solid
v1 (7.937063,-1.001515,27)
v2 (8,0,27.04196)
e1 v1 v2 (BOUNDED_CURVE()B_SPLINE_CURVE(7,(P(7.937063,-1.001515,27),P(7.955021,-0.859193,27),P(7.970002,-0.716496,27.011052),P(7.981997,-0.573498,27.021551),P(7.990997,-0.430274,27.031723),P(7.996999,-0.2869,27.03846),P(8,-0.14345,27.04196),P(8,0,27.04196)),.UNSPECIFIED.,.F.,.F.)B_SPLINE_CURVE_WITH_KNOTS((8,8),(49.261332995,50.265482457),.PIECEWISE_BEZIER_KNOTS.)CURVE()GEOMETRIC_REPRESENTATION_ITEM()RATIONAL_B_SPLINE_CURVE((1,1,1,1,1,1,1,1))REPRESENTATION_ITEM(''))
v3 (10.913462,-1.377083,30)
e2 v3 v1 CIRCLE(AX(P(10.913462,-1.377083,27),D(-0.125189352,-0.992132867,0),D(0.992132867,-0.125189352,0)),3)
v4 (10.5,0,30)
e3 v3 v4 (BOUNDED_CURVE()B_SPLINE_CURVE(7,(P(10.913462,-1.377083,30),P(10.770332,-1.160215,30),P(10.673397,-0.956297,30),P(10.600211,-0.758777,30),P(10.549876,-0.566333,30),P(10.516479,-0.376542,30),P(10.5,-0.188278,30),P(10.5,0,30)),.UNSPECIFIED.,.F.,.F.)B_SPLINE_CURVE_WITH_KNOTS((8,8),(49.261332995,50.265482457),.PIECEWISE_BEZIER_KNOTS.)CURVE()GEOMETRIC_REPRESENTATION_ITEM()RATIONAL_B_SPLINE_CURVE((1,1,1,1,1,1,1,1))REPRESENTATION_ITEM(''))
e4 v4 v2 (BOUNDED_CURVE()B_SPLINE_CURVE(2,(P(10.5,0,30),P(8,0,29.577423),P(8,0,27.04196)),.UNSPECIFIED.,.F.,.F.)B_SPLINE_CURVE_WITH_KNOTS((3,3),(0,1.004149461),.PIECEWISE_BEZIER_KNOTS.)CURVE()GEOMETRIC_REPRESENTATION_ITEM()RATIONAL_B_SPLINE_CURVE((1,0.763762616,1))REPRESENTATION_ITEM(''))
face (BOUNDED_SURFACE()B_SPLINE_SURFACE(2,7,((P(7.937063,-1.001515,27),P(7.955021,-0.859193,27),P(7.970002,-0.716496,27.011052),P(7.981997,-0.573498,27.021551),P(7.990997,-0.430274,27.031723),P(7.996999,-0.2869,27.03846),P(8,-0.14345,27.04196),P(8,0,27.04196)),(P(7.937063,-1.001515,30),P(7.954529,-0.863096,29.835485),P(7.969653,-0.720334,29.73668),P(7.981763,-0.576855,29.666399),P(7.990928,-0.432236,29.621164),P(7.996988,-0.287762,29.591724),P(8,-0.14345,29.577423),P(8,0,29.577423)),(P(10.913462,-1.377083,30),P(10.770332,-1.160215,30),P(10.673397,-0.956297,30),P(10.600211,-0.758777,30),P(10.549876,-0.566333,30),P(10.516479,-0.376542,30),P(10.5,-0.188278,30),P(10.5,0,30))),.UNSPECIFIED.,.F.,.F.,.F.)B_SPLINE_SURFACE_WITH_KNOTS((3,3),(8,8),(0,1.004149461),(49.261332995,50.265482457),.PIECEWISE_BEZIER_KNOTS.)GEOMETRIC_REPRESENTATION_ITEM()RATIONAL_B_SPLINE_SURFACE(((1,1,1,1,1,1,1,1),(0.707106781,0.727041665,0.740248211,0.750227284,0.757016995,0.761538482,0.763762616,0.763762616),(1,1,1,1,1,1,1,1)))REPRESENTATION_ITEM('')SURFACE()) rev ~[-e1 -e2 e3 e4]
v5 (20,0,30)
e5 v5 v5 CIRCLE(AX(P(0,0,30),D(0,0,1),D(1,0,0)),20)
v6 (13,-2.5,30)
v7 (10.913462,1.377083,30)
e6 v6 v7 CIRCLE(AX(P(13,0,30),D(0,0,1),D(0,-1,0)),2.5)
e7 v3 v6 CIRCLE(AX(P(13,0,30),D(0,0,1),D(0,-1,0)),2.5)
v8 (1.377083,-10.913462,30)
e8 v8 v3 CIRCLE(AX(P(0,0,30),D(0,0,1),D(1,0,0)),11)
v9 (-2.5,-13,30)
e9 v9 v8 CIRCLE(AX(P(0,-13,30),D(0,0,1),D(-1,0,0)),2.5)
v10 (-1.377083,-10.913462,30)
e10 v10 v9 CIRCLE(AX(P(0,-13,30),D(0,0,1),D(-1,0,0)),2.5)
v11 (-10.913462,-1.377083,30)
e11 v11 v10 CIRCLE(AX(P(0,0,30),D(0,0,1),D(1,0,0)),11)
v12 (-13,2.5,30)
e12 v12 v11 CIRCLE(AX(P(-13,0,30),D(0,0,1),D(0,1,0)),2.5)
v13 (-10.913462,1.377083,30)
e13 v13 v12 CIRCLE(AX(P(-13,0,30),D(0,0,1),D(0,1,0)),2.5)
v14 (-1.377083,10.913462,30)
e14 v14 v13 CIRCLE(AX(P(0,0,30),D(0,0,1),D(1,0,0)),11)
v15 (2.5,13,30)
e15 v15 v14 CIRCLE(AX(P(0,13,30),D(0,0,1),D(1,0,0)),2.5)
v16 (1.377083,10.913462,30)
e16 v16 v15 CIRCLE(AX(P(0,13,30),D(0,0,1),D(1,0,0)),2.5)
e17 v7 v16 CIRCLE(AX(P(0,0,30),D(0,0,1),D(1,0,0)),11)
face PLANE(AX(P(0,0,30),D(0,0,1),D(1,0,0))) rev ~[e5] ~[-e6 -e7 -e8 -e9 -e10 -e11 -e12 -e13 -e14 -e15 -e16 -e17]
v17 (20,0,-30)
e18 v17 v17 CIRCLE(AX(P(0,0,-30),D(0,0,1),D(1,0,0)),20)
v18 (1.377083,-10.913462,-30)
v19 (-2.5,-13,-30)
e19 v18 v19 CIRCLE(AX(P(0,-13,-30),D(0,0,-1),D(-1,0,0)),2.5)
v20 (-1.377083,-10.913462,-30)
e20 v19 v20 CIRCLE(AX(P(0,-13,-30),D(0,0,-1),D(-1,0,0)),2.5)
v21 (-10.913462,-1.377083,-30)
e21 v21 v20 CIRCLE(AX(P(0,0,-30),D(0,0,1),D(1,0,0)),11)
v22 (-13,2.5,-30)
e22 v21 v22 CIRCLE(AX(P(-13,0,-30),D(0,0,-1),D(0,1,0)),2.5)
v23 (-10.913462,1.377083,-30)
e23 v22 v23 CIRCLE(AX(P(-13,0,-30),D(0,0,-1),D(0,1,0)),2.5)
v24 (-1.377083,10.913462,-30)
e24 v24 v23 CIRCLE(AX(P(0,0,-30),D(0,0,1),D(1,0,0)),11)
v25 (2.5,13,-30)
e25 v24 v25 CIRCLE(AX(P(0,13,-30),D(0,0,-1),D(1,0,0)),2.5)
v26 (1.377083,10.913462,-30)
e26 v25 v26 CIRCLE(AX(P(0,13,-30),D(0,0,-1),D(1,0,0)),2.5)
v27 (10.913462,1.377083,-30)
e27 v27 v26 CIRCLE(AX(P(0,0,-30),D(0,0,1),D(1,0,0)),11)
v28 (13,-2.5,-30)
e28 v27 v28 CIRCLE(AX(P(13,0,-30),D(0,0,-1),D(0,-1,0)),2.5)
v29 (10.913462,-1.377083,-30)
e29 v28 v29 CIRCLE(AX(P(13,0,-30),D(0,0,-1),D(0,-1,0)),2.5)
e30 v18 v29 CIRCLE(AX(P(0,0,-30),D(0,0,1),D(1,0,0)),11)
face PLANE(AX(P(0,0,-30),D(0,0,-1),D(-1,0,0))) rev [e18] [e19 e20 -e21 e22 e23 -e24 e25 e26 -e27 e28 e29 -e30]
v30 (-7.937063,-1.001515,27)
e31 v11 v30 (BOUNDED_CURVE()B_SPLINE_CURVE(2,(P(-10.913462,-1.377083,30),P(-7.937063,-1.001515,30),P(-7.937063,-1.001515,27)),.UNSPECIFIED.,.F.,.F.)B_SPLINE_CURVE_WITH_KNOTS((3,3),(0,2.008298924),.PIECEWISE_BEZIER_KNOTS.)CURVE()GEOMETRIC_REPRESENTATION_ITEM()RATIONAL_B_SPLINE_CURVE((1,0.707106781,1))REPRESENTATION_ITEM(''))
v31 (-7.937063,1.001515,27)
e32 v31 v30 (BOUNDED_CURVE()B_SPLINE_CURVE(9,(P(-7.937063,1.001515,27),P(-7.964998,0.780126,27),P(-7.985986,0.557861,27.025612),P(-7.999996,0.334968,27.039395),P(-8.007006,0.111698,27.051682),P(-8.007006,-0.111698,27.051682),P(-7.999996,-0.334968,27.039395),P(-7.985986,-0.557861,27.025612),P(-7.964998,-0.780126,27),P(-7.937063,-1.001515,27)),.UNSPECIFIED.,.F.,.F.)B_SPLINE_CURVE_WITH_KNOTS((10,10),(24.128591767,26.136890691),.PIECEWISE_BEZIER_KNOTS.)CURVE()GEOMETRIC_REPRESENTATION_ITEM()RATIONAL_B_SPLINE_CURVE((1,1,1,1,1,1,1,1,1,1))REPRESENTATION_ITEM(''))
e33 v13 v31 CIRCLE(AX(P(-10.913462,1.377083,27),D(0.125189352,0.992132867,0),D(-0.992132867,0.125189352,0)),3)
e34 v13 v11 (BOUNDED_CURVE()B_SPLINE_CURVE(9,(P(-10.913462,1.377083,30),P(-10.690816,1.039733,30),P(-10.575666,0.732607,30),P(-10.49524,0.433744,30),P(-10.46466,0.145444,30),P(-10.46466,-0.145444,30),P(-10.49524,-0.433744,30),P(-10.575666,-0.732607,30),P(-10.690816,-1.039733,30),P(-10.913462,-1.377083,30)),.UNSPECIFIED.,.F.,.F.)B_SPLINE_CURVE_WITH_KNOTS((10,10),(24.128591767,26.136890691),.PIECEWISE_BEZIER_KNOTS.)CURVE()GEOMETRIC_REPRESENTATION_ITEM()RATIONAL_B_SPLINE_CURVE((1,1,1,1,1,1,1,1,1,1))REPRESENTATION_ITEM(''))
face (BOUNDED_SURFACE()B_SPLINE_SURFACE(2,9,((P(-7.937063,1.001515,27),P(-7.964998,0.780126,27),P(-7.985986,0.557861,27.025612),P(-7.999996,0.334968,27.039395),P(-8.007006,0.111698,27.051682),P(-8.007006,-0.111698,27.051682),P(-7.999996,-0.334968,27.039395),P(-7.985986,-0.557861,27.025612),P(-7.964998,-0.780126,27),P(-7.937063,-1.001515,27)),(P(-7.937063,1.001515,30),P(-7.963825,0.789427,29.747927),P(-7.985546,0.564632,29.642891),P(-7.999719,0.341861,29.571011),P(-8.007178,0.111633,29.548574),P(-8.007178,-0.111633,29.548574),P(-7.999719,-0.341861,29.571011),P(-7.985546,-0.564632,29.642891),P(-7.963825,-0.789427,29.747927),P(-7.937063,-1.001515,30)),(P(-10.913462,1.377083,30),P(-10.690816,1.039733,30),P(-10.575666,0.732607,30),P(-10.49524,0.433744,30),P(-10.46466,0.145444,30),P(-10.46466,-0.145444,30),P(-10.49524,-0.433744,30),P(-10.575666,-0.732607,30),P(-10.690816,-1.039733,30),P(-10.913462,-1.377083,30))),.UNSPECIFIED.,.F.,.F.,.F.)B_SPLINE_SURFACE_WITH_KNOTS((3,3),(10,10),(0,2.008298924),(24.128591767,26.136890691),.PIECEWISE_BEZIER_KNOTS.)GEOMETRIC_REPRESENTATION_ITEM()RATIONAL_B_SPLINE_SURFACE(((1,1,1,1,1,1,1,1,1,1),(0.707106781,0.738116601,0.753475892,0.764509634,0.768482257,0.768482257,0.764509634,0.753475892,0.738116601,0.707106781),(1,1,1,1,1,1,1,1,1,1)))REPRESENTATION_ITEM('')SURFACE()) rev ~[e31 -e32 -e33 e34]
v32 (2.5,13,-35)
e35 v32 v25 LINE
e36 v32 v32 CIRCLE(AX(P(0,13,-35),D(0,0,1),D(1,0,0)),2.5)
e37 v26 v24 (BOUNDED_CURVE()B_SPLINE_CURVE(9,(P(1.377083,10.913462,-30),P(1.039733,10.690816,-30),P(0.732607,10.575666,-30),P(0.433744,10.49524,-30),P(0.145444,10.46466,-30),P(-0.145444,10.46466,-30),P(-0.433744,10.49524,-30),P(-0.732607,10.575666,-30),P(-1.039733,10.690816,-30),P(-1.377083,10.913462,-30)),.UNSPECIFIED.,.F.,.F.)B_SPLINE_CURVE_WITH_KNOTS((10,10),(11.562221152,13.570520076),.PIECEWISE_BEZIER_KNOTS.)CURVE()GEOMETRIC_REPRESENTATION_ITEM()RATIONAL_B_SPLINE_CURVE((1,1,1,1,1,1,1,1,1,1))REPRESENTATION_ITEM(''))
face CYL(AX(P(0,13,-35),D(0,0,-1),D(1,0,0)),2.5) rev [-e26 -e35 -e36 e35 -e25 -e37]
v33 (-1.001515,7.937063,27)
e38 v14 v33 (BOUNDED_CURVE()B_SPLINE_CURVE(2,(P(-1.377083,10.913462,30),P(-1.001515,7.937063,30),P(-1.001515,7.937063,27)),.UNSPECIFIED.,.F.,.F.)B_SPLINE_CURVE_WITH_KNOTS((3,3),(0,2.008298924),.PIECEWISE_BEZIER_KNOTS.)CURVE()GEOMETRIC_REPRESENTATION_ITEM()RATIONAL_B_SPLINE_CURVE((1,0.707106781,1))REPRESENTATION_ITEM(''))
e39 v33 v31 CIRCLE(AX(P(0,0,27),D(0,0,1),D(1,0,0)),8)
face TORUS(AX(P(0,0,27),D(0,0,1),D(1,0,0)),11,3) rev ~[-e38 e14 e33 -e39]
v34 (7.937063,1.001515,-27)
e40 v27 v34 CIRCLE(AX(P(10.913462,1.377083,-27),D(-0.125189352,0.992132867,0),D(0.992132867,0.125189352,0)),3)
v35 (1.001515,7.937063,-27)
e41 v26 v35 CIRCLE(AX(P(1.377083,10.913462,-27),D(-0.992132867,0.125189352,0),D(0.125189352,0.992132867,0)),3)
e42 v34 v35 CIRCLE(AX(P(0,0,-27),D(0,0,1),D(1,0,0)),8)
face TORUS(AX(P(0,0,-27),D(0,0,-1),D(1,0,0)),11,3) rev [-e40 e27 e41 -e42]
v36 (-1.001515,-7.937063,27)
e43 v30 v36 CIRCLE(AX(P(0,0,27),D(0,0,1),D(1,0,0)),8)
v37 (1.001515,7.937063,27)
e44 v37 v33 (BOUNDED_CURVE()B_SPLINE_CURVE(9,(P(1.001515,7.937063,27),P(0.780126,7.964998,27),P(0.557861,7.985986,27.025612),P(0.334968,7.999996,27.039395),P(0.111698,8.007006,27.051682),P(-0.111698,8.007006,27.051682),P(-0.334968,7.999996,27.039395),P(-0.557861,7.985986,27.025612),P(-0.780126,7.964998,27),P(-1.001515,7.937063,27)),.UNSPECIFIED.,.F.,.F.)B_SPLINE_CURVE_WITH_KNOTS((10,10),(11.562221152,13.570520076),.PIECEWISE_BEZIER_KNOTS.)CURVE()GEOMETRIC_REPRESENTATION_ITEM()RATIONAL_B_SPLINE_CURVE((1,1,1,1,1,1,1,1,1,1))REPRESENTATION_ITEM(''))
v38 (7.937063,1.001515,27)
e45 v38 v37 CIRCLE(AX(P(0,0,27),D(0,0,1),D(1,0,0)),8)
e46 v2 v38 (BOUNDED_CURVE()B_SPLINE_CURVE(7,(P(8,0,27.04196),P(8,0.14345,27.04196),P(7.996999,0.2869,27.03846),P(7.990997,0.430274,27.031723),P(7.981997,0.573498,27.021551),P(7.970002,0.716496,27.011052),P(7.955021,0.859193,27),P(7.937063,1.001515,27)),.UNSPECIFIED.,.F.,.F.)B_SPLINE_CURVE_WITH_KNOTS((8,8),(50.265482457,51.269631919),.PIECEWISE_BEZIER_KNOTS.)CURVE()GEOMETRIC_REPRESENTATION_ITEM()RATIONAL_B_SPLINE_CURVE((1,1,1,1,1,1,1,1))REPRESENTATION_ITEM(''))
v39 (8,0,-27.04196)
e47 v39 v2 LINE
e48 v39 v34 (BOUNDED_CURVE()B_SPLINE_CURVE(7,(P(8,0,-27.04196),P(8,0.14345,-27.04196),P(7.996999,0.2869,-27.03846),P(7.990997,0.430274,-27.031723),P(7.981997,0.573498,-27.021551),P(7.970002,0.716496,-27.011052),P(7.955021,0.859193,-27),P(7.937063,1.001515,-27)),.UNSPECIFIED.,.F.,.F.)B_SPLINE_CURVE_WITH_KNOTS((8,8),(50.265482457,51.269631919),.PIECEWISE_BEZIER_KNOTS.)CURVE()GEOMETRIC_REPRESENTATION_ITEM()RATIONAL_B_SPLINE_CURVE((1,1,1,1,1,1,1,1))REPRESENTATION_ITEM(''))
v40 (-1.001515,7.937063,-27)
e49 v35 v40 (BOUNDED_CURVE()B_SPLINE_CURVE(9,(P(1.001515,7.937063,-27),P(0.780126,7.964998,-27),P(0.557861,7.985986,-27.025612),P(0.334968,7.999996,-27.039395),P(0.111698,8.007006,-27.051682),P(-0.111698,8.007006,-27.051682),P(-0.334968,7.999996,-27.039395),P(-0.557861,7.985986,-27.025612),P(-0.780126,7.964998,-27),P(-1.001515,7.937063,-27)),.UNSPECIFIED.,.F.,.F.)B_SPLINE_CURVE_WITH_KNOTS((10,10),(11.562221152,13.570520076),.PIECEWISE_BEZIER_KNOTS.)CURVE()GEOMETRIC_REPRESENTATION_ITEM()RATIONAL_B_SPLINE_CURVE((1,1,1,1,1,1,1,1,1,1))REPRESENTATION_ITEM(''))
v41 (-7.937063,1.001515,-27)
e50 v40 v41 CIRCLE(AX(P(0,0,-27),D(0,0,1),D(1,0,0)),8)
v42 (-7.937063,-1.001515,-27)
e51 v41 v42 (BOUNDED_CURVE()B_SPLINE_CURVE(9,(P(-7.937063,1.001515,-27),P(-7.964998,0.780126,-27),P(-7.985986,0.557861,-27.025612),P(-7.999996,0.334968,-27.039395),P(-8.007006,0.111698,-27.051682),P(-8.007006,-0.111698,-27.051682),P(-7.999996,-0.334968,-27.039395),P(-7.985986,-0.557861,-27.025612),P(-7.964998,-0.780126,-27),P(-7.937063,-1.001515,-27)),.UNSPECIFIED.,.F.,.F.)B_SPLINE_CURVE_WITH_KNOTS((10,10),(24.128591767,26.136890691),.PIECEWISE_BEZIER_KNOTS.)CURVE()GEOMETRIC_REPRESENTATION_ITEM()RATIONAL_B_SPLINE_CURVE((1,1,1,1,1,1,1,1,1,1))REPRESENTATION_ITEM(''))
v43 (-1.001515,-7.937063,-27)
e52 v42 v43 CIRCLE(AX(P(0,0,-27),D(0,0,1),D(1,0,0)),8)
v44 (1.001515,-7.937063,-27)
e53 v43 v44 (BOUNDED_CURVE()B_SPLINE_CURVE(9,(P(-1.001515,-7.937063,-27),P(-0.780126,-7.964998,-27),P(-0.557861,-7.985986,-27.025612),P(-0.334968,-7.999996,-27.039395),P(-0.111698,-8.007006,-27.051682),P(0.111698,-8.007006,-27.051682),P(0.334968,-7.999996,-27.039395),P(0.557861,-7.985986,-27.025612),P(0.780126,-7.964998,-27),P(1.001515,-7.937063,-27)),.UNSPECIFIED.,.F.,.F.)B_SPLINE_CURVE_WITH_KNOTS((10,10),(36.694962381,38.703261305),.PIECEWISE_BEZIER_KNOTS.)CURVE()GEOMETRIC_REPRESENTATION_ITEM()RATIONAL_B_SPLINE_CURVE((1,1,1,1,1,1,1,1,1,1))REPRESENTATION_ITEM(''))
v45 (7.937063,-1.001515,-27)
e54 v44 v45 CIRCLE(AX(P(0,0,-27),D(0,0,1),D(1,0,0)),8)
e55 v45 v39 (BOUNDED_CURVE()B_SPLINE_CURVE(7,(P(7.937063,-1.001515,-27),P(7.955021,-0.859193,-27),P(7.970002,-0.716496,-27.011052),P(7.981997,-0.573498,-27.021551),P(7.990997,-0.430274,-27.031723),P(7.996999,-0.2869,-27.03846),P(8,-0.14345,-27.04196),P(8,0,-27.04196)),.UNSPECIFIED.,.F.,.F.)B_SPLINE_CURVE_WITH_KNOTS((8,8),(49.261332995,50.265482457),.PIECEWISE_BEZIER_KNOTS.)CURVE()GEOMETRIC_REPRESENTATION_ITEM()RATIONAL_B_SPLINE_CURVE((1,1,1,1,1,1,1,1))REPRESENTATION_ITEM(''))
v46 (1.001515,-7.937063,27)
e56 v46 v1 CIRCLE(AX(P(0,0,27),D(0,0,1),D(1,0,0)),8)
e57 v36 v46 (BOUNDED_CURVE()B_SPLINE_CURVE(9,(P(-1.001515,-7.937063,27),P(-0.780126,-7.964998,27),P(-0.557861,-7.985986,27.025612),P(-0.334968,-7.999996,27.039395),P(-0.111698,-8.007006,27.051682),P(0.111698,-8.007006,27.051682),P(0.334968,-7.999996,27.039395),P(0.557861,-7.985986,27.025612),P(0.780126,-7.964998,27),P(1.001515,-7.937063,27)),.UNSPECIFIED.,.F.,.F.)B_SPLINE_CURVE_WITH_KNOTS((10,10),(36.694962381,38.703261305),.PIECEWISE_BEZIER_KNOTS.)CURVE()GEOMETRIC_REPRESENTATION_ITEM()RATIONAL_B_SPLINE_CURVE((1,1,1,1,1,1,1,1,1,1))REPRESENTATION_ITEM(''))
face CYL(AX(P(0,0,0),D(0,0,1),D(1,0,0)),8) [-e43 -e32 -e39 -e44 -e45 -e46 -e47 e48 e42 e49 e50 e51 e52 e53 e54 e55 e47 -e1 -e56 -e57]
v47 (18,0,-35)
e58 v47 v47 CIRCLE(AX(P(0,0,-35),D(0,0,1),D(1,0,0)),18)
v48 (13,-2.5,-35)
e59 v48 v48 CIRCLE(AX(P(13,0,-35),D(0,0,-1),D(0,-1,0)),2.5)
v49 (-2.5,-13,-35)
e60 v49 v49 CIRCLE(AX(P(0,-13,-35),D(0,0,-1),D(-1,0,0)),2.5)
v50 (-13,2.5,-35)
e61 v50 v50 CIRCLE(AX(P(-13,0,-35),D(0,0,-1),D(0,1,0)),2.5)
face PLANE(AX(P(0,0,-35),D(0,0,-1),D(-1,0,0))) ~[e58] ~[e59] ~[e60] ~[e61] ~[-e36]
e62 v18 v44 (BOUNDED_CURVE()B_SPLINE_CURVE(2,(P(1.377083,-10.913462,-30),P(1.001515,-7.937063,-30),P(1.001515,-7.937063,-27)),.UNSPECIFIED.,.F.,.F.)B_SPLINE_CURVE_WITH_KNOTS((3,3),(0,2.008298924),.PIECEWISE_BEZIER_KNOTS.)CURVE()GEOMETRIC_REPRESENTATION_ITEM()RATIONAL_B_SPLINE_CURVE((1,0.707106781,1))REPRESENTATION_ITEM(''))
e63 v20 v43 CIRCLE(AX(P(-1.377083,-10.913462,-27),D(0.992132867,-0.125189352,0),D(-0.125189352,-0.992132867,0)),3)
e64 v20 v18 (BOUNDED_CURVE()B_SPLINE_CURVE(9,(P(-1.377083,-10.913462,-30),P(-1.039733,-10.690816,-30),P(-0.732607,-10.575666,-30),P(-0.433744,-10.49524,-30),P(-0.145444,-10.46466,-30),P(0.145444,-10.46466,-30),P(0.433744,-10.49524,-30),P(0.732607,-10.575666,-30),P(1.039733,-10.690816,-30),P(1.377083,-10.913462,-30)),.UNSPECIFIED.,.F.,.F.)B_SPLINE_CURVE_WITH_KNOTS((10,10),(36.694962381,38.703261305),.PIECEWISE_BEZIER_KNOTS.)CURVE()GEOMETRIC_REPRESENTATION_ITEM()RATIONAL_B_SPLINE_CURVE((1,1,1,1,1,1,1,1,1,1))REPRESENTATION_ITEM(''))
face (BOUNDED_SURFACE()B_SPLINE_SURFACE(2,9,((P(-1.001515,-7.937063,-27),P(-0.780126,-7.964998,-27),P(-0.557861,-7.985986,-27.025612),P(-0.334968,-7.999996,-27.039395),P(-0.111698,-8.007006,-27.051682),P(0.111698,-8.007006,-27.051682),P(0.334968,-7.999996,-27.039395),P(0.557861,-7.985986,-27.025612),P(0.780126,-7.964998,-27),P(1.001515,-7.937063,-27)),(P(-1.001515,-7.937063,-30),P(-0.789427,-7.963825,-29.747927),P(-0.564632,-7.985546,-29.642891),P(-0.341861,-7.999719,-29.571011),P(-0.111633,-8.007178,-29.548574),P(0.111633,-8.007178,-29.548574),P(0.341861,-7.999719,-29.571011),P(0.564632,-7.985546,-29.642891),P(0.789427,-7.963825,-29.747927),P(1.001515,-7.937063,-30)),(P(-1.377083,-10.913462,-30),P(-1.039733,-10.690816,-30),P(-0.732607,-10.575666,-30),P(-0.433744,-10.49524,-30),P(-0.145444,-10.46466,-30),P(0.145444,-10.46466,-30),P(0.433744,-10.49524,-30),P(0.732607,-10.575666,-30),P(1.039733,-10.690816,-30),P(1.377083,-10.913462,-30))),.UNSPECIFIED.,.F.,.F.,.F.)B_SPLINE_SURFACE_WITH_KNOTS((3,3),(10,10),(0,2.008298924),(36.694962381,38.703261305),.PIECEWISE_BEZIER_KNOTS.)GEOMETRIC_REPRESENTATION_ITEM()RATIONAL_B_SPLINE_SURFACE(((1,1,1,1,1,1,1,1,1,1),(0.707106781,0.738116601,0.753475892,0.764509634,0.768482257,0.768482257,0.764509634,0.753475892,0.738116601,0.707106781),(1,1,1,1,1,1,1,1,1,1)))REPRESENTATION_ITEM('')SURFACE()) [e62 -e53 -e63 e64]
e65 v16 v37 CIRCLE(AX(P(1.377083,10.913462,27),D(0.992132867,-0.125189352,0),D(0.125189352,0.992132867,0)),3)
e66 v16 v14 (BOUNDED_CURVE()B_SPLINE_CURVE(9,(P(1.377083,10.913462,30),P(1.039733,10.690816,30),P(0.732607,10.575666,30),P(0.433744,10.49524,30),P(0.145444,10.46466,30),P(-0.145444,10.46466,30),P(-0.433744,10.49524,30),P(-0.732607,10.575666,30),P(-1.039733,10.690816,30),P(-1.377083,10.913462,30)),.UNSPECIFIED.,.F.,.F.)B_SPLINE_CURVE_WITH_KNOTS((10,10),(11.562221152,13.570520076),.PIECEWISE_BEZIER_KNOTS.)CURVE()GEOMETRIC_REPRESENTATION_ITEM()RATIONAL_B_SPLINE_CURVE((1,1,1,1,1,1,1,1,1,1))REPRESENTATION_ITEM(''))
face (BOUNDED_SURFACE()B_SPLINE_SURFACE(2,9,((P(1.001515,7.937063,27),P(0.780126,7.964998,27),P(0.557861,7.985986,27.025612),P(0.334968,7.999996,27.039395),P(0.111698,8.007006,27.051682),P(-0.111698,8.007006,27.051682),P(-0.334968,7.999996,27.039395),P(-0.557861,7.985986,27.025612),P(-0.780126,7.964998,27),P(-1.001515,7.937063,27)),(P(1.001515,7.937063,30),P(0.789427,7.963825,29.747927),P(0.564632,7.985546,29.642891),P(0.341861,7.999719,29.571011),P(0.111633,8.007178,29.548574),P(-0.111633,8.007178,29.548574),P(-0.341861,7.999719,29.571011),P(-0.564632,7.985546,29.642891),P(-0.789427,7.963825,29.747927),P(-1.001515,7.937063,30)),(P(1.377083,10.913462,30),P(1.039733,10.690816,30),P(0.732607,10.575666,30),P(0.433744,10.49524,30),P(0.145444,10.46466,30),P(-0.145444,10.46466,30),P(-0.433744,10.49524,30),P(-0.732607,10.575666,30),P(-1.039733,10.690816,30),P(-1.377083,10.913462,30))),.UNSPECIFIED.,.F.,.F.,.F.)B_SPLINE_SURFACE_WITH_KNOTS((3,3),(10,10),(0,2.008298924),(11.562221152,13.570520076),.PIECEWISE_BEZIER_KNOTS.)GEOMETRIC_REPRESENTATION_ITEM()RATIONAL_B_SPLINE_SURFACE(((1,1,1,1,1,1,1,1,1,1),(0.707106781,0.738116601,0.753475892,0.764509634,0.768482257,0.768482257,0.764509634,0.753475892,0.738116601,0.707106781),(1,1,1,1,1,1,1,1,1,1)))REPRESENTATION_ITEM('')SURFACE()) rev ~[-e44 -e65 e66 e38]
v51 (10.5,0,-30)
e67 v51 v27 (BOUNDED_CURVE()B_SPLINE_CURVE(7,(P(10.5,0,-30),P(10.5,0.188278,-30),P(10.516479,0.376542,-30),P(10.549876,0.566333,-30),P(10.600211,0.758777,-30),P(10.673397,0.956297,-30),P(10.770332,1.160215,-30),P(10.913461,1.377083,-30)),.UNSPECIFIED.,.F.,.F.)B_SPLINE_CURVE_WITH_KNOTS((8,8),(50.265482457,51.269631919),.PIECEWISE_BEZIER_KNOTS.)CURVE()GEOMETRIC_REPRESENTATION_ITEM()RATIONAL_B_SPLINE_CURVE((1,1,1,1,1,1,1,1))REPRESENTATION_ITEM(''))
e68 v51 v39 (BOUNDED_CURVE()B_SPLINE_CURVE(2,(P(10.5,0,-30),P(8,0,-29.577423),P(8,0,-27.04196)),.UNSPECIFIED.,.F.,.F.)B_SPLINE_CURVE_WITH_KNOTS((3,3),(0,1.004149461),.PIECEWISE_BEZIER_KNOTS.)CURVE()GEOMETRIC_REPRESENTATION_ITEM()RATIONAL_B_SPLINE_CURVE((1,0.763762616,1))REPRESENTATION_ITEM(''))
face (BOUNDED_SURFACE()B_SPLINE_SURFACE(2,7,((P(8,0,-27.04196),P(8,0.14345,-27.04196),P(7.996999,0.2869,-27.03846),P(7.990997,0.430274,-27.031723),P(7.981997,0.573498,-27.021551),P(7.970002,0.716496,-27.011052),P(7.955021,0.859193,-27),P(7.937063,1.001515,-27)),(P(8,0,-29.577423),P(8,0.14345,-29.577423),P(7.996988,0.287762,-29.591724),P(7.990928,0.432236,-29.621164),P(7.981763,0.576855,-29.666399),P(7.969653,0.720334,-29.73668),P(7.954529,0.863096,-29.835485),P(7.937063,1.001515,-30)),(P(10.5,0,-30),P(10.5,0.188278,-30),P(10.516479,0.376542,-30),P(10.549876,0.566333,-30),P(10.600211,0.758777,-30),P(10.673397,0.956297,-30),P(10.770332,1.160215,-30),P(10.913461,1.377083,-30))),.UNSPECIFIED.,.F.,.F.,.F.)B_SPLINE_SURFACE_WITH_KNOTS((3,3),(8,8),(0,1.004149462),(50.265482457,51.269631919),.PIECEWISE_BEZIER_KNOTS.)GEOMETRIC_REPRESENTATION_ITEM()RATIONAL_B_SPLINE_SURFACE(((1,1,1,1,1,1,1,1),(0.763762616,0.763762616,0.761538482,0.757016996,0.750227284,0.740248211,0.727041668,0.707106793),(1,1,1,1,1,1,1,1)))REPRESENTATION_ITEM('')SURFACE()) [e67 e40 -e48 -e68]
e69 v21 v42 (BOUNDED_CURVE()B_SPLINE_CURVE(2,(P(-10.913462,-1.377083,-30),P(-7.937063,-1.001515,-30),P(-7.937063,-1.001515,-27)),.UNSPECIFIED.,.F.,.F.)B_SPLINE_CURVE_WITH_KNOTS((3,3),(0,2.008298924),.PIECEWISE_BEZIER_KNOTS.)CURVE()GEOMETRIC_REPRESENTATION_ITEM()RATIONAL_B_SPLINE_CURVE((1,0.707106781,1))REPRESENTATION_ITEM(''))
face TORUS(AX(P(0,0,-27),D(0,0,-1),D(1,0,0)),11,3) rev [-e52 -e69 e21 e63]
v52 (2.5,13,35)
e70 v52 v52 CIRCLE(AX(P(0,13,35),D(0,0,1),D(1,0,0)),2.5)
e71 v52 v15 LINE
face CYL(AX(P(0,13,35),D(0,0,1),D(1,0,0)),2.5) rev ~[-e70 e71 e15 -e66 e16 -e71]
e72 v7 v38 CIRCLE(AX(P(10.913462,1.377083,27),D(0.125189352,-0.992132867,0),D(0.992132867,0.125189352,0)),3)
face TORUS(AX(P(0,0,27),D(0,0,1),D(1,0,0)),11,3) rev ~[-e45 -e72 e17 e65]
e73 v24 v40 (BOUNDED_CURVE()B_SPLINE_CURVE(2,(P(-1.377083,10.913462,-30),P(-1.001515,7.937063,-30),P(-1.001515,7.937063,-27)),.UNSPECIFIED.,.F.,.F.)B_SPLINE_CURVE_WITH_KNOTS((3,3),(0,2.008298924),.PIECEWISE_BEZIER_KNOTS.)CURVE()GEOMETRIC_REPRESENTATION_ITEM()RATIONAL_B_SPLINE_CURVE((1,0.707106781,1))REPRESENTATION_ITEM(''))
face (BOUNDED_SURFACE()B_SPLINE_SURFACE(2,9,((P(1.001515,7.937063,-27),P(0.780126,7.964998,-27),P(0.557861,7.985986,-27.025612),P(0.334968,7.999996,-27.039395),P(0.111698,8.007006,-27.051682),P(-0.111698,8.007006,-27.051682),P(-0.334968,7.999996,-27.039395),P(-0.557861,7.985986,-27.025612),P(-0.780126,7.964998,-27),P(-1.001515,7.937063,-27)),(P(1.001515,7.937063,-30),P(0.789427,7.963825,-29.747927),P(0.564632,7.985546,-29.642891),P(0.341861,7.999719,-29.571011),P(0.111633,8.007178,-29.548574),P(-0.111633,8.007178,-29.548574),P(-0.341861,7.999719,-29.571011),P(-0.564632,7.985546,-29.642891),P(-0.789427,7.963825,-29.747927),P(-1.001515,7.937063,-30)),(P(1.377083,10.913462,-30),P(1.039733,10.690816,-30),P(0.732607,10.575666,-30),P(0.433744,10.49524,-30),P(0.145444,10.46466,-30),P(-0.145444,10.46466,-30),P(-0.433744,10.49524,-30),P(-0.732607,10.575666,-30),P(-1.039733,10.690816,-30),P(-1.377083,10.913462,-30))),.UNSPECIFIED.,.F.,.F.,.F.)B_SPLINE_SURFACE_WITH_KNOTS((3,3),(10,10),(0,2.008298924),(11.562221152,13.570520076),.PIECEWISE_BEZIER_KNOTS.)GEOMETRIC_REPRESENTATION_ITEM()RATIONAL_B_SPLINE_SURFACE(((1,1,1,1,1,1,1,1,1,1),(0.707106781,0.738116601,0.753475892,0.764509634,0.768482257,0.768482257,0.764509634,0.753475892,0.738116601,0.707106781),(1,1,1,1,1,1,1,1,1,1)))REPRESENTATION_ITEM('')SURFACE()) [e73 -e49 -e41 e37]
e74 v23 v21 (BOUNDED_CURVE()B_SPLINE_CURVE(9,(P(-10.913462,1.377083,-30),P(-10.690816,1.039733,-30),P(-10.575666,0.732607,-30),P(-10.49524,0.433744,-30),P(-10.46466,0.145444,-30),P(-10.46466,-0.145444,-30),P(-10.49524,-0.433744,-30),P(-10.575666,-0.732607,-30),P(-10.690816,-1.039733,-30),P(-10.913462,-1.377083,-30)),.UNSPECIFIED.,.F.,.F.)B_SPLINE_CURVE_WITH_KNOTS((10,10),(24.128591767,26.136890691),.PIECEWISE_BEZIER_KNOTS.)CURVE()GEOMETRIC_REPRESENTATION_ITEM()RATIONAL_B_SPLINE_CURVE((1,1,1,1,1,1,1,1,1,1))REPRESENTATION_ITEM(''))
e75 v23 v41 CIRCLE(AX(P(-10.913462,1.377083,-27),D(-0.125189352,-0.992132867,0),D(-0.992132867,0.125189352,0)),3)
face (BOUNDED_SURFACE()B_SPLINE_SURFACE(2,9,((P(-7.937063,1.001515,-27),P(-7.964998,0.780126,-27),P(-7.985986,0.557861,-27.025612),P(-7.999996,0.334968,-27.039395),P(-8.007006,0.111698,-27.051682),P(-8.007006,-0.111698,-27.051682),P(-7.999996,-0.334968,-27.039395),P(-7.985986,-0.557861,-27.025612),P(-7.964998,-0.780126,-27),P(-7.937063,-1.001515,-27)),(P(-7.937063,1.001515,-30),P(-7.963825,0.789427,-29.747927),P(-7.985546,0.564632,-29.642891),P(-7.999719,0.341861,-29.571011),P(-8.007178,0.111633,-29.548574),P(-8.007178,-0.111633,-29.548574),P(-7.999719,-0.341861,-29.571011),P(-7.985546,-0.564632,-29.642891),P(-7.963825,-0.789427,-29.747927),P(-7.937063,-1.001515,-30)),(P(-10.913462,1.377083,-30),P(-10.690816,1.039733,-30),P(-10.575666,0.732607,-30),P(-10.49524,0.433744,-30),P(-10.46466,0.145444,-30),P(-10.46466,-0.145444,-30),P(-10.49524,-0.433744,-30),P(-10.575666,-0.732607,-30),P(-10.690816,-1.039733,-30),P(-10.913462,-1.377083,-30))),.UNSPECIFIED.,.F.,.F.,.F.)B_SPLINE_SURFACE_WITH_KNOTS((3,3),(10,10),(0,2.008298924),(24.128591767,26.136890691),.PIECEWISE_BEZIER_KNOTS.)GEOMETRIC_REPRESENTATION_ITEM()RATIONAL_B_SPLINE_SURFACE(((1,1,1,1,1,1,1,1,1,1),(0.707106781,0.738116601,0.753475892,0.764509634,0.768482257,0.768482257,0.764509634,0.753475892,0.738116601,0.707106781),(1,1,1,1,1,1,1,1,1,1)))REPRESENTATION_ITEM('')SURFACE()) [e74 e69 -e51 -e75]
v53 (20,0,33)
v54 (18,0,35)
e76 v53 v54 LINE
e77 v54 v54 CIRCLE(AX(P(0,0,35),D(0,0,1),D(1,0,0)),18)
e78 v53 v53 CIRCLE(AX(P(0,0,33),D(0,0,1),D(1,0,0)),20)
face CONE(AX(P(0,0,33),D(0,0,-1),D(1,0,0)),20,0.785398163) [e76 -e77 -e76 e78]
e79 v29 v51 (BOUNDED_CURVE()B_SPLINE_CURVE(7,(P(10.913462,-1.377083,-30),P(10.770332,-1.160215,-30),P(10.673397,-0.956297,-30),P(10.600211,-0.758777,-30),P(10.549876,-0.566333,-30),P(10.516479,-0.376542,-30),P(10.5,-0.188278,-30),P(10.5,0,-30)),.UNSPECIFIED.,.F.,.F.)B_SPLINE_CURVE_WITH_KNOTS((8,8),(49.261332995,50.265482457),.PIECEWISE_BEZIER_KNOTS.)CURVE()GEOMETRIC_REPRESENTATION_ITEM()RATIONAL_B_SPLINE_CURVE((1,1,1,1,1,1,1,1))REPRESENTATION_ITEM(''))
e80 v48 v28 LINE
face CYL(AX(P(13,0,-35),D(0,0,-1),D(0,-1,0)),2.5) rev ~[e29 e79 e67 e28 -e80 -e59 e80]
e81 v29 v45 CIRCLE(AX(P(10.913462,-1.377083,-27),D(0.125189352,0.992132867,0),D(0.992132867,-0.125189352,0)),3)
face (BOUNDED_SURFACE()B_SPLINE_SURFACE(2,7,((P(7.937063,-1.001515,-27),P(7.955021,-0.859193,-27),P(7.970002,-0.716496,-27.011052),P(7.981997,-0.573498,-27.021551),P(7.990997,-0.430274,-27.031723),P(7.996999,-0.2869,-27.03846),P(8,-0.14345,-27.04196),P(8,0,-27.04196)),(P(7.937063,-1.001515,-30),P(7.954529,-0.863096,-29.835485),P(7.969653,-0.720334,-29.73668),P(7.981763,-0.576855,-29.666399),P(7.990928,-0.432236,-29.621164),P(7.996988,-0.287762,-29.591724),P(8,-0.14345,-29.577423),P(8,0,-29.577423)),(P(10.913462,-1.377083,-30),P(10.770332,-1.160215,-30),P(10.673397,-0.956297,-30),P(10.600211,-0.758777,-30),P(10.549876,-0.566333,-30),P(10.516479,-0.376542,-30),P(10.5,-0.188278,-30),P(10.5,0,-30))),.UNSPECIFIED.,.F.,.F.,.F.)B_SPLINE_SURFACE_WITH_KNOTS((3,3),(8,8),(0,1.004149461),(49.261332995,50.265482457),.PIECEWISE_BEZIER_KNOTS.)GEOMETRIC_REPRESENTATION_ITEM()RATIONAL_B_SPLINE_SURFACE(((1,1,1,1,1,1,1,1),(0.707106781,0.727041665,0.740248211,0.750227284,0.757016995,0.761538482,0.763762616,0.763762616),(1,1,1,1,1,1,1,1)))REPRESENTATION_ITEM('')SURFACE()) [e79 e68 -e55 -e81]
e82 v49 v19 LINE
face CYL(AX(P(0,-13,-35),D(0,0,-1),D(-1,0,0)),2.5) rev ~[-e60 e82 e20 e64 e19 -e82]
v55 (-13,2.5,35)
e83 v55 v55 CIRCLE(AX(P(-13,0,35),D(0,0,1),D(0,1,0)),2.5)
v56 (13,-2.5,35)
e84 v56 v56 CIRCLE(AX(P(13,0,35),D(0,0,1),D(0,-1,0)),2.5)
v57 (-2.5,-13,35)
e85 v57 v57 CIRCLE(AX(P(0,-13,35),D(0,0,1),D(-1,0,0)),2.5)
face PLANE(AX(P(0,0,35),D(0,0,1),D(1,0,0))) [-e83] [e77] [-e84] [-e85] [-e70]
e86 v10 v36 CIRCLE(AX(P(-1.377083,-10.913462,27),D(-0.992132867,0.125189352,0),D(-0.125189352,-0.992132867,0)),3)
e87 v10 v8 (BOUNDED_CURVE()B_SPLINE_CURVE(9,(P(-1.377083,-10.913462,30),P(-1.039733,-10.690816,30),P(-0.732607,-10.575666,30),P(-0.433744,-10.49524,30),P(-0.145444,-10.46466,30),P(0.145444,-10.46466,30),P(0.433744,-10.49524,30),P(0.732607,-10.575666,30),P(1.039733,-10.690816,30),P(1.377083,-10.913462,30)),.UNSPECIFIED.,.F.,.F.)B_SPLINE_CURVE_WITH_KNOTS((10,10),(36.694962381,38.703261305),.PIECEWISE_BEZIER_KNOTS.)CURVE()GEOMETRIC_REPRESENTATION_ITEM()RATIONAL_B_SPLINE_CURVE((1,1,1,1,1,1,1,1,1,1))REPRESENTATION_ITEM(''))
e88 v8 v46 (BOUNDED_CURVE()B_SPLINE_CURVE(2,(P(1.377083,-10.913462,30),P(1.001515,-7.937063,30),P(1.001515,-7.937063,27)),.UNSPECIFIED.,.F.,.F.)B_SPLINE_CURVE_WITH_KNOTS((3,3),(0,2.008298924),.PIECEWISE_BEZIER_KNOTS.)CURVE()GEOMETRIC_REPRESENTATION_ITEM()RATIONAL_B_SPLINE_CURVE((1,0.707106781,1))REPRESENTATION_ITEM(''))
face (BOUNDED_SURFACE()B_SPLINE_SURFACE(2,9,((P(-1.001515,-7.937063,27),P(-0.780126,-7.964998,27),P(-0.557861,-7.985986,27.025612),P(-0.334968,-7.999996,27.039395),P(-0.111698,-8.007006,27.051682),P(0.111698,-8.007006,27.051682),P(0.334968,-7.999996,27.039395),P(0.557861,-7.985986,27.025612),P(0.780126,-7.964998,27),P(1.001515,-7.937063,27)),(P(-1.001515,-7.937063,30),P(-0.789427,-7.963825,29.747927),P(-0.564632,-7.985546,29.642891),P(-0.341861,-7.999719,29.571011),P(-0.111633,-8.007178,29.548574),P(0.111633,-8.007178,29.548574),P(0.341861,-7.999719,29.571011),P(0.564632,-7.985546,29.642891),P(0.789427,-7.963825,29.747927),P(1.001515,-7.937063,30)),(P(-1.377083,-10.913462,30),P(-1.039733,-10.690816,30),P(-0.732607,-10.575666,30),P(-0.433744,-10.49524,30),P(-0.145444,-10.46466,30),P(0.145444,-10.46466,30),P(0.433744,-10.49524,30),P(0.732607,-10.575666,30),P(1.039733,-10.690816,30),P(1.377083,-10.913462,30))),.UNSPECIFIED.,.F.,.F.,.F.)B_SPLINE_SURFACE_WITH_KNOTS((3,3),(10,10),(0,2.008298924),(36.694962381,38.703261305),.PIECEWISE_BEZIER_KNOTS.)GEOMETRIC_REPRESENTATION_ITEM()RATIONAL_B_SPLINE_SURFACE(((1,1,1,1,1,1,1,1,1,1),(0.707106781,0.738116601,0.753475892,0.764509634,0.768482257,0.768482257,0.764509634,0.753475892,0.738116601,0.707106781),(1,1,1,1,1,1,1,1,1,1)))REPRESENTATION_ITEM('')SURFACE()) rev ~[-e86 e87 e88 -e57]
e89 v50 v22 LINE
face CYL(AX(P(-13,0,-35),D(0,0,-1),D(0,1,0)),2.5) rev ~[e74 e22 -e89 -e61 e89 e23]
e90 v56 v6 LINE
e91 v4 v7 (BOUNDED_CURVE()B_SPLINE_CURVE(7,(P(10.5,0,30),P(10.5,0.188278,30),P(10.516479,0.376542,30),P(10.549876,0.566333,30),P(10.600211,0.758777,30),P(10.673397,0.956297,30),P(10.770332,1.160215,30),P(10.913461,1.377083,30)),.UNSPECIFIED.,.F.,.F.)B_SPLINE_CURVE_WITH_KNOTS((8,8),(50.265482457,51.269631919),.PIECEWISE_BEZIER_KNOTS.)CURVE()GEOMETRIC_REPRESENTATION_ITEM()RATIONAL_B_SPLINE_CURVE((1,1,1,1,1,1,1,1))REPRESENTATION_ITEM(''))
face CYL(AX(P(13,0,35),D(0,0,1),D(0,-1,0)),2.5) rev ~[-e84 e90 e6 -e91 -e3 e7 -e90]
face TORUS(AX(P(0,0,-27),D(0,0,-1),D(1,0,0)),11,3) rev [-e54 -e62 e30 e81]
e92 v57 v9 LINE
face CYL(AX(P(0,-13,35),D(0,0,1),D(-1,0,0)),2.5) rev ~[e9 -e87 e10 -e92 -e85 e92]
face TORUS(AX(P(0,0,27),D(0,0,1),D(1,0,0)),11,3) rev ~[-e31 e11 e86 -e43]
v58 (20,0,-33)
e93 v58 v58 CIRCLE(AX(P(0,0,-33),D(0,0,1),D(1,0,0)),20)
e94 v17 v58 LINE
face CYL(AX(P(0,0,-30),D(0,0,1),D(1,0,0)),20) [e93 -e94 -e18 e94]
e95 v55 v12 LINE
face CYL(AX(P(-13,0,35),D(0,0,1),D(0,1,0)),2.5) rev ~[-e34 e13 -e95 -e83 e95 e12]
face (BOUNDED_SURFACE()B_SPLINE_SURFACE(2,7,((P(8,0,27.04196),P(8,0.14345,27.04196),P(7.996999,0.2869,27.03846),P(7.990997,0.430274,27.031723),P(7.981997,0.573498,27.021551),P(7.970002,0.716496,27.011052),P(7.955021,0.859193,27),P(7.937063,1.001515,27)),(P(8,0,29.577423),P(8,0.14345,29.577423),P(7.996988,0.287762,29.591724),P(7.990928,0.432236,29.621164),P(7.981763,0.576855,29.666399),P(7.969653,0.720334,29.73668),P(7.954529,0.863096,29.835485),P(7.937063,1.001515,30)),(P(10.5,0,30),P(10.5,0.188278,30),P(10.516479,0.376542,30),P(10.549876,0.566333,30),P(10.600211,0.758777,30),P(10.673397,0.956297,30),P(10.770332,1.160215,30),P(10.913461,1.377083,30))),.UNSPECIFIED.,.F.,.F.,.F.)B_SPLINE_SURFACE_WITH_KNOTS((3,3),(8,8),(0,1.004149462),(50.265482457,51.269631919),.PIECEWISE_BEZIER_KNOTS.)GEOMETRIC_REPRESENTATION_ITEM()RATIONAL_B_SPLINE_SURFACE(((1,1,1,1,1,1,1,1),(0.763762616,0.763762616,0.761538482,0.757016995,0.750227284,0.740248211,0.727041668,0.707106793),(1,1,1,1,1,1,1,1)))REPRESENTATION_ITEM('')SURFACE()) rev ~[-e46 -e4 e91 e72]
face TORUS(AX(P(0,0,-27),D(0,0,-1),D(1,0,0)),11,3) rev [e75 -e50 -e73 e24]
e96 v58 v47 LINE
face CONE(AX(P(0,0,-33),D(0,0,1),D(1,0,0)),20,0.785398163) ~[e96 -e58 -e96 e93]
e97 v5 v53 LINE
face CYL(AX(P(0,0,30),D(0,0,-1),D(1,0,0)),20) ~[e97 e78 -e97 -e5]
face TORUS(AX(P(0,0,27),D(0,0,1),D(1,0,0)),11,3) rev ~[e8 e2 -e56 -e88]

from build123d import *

# Parameters (mm, degrees)
SKETCH1_R                = 8
BOSS_EXTRUDE1_DEPTH      = 30
SKETCH2_R                = 20
BOSS_EXTRUDE2_DEPTH      = 5
CHAMFER1_SIZE            = 2
SKETCH3_R                = 2.5
CUT_EXTRUDE1_DEPTH       = 71.887234394
CIRPATTERN1_COUNT        = 4
FILLET1_R                = 3
MIRROR5_COPY_1_SKETCH_R  = 2.5
MIRROR5_COPY_1_DEPTH     = 71.887234394
MIRROR5_COPY_2_SKETCH_R  = 2.5
MIRROR5_COPY_2_DEPTH     = 71.887234394
MIRROR5_COPY_3_SKETCH_R  = 2.5
MIRROR5_COPY_3_DEPTH     = 71.887234394
CHAMFER1_OF_MIRROR5_SIZE = 2
FILLET1_OF_MIRROR5_R     = 3


with BuildPart() as part:
    # Sketch1 → Boss-Extrude1 (new, symmetric)
    with BuildSketch(Plane.XY):
        Circle(SKETCH1_R)
    extrude(amount=BOSS_EXTRUDE1_DEPTH, both=True)

    # Sketch2 → Boss-Extrude2 (add)
    with BuildSketch(Plane.XY.offset(30)):
        Circle(SKETCH2_R)
    boss_extrude2 = extrude(amount=BOSS_EXTRUDE2_DEPTH)

    # Chamfer1
    chamfer1_edges = [part.edges().sort_by_distance(p)[0] for p in [
        (-20, 0, 35),
    ]]
    chamfer(chamfer1_edges, length=CHAMFER1_SIZE)

    # Sketch3 → Cut-Extrude1 (cut, through all)
    with BuildSketch(Plane.XY.offset(35)):
        with Locations((0, 13)):
            Circle(SKETCH3_R)
    cut_extrude1 = extrude(amount=-CUT_EXTRUDE1_DEPTH, mode=Mode.SUBTRACT)

    # CirPattern1: Cut-Extrude1 ×4 about axis
    cirpattern1_axis = Axis((0, 0, 0), (0, 0, 1))
    for i in range(1, CIRPATTERN1_COUNT):
        add(cut_extrude1.rotate(cirpattern1_axis, i * 360 / CIRPATTERN1_COUNT), mode=Mode.SUBTRACT)

    # Fillet1
    fillet1_edges = [part.edges().sort_by_distance(p)[0] for p in [
        (-8, 0, 30),
    ]]
    fillet(fillet1_edges, radius=FILLET1_R)

    # Mirror5: Boss-Extrude2, Cut-Extrude1 across plane
    add(boss_extrude2.mirror(Plane.XY))
    add(cut_extrude1.mirror(Plane.XY), mode=Mode.SUBTRACT)

    # Mirror5 copy 1 sketch → Mirror5 copy 1 (cut, through all)
    with BuildSketch(Plane.YX.offset(35)):
        with Locations((0, -13)):
            Circle(MIRROR5_COPY_1_SKETCH_R)
    extrude(amount=-MIRROR5_COPY_1_DEPTH, mode=Mode.SUBTRACT)

    # Mirror5 copy 2 sketch → Mirror5 copy 2 (cut, through all)
    with BuildSketch(Plane(origin=(0, 0, -35), x_dir=(-1, 0, 0), z_dir=(0, 0, -1))):
        with Locations((0, -13)):
            Circle(MIRROR5_COPY_2_SKETCH_R)
    extrude(amount=-MIRROR5_COPY_2_DEPTH, mode=Mode.SUBTRACT)

    # Mirror5 copy 3 sketch → Mirror5 copy 3 (cut, through all)
    with BuildSketch(Plane(origin=(0, 0, -35), x_dir=(0, -1, 0), z_dir=(0, 0, -1))):
        with Locations((0, -13)):
            Circle(MIRROR5_COPY_3_SKETCH_R)
    extrude(amount=-MIRROR5_COPY_3_DEPTH, mode=Mode.SUBTRACT)

    # Chamfer1 of Mirror5
    chamfer1_of_mirror5_edges = [part.edges().sort_by_distance(p)[0] for p in [
        (-20, 0, -35),
    ]]
    chamfer(chamfer1_of_mirror5_edges, length=CHAMFER1_OF_MIRROR5_SIZE)

    # Fillet1 of Mirror5
    fillet1_of_mirror5_edges = [part.edges().sort_by_distance(p)[0] for p in [
        (-8, 0, -30),
    ]]
    fillet(fillet1_of_mirror5_edges, radius=FILLET1_OF_MIRROR5_R)


solid = part.part
